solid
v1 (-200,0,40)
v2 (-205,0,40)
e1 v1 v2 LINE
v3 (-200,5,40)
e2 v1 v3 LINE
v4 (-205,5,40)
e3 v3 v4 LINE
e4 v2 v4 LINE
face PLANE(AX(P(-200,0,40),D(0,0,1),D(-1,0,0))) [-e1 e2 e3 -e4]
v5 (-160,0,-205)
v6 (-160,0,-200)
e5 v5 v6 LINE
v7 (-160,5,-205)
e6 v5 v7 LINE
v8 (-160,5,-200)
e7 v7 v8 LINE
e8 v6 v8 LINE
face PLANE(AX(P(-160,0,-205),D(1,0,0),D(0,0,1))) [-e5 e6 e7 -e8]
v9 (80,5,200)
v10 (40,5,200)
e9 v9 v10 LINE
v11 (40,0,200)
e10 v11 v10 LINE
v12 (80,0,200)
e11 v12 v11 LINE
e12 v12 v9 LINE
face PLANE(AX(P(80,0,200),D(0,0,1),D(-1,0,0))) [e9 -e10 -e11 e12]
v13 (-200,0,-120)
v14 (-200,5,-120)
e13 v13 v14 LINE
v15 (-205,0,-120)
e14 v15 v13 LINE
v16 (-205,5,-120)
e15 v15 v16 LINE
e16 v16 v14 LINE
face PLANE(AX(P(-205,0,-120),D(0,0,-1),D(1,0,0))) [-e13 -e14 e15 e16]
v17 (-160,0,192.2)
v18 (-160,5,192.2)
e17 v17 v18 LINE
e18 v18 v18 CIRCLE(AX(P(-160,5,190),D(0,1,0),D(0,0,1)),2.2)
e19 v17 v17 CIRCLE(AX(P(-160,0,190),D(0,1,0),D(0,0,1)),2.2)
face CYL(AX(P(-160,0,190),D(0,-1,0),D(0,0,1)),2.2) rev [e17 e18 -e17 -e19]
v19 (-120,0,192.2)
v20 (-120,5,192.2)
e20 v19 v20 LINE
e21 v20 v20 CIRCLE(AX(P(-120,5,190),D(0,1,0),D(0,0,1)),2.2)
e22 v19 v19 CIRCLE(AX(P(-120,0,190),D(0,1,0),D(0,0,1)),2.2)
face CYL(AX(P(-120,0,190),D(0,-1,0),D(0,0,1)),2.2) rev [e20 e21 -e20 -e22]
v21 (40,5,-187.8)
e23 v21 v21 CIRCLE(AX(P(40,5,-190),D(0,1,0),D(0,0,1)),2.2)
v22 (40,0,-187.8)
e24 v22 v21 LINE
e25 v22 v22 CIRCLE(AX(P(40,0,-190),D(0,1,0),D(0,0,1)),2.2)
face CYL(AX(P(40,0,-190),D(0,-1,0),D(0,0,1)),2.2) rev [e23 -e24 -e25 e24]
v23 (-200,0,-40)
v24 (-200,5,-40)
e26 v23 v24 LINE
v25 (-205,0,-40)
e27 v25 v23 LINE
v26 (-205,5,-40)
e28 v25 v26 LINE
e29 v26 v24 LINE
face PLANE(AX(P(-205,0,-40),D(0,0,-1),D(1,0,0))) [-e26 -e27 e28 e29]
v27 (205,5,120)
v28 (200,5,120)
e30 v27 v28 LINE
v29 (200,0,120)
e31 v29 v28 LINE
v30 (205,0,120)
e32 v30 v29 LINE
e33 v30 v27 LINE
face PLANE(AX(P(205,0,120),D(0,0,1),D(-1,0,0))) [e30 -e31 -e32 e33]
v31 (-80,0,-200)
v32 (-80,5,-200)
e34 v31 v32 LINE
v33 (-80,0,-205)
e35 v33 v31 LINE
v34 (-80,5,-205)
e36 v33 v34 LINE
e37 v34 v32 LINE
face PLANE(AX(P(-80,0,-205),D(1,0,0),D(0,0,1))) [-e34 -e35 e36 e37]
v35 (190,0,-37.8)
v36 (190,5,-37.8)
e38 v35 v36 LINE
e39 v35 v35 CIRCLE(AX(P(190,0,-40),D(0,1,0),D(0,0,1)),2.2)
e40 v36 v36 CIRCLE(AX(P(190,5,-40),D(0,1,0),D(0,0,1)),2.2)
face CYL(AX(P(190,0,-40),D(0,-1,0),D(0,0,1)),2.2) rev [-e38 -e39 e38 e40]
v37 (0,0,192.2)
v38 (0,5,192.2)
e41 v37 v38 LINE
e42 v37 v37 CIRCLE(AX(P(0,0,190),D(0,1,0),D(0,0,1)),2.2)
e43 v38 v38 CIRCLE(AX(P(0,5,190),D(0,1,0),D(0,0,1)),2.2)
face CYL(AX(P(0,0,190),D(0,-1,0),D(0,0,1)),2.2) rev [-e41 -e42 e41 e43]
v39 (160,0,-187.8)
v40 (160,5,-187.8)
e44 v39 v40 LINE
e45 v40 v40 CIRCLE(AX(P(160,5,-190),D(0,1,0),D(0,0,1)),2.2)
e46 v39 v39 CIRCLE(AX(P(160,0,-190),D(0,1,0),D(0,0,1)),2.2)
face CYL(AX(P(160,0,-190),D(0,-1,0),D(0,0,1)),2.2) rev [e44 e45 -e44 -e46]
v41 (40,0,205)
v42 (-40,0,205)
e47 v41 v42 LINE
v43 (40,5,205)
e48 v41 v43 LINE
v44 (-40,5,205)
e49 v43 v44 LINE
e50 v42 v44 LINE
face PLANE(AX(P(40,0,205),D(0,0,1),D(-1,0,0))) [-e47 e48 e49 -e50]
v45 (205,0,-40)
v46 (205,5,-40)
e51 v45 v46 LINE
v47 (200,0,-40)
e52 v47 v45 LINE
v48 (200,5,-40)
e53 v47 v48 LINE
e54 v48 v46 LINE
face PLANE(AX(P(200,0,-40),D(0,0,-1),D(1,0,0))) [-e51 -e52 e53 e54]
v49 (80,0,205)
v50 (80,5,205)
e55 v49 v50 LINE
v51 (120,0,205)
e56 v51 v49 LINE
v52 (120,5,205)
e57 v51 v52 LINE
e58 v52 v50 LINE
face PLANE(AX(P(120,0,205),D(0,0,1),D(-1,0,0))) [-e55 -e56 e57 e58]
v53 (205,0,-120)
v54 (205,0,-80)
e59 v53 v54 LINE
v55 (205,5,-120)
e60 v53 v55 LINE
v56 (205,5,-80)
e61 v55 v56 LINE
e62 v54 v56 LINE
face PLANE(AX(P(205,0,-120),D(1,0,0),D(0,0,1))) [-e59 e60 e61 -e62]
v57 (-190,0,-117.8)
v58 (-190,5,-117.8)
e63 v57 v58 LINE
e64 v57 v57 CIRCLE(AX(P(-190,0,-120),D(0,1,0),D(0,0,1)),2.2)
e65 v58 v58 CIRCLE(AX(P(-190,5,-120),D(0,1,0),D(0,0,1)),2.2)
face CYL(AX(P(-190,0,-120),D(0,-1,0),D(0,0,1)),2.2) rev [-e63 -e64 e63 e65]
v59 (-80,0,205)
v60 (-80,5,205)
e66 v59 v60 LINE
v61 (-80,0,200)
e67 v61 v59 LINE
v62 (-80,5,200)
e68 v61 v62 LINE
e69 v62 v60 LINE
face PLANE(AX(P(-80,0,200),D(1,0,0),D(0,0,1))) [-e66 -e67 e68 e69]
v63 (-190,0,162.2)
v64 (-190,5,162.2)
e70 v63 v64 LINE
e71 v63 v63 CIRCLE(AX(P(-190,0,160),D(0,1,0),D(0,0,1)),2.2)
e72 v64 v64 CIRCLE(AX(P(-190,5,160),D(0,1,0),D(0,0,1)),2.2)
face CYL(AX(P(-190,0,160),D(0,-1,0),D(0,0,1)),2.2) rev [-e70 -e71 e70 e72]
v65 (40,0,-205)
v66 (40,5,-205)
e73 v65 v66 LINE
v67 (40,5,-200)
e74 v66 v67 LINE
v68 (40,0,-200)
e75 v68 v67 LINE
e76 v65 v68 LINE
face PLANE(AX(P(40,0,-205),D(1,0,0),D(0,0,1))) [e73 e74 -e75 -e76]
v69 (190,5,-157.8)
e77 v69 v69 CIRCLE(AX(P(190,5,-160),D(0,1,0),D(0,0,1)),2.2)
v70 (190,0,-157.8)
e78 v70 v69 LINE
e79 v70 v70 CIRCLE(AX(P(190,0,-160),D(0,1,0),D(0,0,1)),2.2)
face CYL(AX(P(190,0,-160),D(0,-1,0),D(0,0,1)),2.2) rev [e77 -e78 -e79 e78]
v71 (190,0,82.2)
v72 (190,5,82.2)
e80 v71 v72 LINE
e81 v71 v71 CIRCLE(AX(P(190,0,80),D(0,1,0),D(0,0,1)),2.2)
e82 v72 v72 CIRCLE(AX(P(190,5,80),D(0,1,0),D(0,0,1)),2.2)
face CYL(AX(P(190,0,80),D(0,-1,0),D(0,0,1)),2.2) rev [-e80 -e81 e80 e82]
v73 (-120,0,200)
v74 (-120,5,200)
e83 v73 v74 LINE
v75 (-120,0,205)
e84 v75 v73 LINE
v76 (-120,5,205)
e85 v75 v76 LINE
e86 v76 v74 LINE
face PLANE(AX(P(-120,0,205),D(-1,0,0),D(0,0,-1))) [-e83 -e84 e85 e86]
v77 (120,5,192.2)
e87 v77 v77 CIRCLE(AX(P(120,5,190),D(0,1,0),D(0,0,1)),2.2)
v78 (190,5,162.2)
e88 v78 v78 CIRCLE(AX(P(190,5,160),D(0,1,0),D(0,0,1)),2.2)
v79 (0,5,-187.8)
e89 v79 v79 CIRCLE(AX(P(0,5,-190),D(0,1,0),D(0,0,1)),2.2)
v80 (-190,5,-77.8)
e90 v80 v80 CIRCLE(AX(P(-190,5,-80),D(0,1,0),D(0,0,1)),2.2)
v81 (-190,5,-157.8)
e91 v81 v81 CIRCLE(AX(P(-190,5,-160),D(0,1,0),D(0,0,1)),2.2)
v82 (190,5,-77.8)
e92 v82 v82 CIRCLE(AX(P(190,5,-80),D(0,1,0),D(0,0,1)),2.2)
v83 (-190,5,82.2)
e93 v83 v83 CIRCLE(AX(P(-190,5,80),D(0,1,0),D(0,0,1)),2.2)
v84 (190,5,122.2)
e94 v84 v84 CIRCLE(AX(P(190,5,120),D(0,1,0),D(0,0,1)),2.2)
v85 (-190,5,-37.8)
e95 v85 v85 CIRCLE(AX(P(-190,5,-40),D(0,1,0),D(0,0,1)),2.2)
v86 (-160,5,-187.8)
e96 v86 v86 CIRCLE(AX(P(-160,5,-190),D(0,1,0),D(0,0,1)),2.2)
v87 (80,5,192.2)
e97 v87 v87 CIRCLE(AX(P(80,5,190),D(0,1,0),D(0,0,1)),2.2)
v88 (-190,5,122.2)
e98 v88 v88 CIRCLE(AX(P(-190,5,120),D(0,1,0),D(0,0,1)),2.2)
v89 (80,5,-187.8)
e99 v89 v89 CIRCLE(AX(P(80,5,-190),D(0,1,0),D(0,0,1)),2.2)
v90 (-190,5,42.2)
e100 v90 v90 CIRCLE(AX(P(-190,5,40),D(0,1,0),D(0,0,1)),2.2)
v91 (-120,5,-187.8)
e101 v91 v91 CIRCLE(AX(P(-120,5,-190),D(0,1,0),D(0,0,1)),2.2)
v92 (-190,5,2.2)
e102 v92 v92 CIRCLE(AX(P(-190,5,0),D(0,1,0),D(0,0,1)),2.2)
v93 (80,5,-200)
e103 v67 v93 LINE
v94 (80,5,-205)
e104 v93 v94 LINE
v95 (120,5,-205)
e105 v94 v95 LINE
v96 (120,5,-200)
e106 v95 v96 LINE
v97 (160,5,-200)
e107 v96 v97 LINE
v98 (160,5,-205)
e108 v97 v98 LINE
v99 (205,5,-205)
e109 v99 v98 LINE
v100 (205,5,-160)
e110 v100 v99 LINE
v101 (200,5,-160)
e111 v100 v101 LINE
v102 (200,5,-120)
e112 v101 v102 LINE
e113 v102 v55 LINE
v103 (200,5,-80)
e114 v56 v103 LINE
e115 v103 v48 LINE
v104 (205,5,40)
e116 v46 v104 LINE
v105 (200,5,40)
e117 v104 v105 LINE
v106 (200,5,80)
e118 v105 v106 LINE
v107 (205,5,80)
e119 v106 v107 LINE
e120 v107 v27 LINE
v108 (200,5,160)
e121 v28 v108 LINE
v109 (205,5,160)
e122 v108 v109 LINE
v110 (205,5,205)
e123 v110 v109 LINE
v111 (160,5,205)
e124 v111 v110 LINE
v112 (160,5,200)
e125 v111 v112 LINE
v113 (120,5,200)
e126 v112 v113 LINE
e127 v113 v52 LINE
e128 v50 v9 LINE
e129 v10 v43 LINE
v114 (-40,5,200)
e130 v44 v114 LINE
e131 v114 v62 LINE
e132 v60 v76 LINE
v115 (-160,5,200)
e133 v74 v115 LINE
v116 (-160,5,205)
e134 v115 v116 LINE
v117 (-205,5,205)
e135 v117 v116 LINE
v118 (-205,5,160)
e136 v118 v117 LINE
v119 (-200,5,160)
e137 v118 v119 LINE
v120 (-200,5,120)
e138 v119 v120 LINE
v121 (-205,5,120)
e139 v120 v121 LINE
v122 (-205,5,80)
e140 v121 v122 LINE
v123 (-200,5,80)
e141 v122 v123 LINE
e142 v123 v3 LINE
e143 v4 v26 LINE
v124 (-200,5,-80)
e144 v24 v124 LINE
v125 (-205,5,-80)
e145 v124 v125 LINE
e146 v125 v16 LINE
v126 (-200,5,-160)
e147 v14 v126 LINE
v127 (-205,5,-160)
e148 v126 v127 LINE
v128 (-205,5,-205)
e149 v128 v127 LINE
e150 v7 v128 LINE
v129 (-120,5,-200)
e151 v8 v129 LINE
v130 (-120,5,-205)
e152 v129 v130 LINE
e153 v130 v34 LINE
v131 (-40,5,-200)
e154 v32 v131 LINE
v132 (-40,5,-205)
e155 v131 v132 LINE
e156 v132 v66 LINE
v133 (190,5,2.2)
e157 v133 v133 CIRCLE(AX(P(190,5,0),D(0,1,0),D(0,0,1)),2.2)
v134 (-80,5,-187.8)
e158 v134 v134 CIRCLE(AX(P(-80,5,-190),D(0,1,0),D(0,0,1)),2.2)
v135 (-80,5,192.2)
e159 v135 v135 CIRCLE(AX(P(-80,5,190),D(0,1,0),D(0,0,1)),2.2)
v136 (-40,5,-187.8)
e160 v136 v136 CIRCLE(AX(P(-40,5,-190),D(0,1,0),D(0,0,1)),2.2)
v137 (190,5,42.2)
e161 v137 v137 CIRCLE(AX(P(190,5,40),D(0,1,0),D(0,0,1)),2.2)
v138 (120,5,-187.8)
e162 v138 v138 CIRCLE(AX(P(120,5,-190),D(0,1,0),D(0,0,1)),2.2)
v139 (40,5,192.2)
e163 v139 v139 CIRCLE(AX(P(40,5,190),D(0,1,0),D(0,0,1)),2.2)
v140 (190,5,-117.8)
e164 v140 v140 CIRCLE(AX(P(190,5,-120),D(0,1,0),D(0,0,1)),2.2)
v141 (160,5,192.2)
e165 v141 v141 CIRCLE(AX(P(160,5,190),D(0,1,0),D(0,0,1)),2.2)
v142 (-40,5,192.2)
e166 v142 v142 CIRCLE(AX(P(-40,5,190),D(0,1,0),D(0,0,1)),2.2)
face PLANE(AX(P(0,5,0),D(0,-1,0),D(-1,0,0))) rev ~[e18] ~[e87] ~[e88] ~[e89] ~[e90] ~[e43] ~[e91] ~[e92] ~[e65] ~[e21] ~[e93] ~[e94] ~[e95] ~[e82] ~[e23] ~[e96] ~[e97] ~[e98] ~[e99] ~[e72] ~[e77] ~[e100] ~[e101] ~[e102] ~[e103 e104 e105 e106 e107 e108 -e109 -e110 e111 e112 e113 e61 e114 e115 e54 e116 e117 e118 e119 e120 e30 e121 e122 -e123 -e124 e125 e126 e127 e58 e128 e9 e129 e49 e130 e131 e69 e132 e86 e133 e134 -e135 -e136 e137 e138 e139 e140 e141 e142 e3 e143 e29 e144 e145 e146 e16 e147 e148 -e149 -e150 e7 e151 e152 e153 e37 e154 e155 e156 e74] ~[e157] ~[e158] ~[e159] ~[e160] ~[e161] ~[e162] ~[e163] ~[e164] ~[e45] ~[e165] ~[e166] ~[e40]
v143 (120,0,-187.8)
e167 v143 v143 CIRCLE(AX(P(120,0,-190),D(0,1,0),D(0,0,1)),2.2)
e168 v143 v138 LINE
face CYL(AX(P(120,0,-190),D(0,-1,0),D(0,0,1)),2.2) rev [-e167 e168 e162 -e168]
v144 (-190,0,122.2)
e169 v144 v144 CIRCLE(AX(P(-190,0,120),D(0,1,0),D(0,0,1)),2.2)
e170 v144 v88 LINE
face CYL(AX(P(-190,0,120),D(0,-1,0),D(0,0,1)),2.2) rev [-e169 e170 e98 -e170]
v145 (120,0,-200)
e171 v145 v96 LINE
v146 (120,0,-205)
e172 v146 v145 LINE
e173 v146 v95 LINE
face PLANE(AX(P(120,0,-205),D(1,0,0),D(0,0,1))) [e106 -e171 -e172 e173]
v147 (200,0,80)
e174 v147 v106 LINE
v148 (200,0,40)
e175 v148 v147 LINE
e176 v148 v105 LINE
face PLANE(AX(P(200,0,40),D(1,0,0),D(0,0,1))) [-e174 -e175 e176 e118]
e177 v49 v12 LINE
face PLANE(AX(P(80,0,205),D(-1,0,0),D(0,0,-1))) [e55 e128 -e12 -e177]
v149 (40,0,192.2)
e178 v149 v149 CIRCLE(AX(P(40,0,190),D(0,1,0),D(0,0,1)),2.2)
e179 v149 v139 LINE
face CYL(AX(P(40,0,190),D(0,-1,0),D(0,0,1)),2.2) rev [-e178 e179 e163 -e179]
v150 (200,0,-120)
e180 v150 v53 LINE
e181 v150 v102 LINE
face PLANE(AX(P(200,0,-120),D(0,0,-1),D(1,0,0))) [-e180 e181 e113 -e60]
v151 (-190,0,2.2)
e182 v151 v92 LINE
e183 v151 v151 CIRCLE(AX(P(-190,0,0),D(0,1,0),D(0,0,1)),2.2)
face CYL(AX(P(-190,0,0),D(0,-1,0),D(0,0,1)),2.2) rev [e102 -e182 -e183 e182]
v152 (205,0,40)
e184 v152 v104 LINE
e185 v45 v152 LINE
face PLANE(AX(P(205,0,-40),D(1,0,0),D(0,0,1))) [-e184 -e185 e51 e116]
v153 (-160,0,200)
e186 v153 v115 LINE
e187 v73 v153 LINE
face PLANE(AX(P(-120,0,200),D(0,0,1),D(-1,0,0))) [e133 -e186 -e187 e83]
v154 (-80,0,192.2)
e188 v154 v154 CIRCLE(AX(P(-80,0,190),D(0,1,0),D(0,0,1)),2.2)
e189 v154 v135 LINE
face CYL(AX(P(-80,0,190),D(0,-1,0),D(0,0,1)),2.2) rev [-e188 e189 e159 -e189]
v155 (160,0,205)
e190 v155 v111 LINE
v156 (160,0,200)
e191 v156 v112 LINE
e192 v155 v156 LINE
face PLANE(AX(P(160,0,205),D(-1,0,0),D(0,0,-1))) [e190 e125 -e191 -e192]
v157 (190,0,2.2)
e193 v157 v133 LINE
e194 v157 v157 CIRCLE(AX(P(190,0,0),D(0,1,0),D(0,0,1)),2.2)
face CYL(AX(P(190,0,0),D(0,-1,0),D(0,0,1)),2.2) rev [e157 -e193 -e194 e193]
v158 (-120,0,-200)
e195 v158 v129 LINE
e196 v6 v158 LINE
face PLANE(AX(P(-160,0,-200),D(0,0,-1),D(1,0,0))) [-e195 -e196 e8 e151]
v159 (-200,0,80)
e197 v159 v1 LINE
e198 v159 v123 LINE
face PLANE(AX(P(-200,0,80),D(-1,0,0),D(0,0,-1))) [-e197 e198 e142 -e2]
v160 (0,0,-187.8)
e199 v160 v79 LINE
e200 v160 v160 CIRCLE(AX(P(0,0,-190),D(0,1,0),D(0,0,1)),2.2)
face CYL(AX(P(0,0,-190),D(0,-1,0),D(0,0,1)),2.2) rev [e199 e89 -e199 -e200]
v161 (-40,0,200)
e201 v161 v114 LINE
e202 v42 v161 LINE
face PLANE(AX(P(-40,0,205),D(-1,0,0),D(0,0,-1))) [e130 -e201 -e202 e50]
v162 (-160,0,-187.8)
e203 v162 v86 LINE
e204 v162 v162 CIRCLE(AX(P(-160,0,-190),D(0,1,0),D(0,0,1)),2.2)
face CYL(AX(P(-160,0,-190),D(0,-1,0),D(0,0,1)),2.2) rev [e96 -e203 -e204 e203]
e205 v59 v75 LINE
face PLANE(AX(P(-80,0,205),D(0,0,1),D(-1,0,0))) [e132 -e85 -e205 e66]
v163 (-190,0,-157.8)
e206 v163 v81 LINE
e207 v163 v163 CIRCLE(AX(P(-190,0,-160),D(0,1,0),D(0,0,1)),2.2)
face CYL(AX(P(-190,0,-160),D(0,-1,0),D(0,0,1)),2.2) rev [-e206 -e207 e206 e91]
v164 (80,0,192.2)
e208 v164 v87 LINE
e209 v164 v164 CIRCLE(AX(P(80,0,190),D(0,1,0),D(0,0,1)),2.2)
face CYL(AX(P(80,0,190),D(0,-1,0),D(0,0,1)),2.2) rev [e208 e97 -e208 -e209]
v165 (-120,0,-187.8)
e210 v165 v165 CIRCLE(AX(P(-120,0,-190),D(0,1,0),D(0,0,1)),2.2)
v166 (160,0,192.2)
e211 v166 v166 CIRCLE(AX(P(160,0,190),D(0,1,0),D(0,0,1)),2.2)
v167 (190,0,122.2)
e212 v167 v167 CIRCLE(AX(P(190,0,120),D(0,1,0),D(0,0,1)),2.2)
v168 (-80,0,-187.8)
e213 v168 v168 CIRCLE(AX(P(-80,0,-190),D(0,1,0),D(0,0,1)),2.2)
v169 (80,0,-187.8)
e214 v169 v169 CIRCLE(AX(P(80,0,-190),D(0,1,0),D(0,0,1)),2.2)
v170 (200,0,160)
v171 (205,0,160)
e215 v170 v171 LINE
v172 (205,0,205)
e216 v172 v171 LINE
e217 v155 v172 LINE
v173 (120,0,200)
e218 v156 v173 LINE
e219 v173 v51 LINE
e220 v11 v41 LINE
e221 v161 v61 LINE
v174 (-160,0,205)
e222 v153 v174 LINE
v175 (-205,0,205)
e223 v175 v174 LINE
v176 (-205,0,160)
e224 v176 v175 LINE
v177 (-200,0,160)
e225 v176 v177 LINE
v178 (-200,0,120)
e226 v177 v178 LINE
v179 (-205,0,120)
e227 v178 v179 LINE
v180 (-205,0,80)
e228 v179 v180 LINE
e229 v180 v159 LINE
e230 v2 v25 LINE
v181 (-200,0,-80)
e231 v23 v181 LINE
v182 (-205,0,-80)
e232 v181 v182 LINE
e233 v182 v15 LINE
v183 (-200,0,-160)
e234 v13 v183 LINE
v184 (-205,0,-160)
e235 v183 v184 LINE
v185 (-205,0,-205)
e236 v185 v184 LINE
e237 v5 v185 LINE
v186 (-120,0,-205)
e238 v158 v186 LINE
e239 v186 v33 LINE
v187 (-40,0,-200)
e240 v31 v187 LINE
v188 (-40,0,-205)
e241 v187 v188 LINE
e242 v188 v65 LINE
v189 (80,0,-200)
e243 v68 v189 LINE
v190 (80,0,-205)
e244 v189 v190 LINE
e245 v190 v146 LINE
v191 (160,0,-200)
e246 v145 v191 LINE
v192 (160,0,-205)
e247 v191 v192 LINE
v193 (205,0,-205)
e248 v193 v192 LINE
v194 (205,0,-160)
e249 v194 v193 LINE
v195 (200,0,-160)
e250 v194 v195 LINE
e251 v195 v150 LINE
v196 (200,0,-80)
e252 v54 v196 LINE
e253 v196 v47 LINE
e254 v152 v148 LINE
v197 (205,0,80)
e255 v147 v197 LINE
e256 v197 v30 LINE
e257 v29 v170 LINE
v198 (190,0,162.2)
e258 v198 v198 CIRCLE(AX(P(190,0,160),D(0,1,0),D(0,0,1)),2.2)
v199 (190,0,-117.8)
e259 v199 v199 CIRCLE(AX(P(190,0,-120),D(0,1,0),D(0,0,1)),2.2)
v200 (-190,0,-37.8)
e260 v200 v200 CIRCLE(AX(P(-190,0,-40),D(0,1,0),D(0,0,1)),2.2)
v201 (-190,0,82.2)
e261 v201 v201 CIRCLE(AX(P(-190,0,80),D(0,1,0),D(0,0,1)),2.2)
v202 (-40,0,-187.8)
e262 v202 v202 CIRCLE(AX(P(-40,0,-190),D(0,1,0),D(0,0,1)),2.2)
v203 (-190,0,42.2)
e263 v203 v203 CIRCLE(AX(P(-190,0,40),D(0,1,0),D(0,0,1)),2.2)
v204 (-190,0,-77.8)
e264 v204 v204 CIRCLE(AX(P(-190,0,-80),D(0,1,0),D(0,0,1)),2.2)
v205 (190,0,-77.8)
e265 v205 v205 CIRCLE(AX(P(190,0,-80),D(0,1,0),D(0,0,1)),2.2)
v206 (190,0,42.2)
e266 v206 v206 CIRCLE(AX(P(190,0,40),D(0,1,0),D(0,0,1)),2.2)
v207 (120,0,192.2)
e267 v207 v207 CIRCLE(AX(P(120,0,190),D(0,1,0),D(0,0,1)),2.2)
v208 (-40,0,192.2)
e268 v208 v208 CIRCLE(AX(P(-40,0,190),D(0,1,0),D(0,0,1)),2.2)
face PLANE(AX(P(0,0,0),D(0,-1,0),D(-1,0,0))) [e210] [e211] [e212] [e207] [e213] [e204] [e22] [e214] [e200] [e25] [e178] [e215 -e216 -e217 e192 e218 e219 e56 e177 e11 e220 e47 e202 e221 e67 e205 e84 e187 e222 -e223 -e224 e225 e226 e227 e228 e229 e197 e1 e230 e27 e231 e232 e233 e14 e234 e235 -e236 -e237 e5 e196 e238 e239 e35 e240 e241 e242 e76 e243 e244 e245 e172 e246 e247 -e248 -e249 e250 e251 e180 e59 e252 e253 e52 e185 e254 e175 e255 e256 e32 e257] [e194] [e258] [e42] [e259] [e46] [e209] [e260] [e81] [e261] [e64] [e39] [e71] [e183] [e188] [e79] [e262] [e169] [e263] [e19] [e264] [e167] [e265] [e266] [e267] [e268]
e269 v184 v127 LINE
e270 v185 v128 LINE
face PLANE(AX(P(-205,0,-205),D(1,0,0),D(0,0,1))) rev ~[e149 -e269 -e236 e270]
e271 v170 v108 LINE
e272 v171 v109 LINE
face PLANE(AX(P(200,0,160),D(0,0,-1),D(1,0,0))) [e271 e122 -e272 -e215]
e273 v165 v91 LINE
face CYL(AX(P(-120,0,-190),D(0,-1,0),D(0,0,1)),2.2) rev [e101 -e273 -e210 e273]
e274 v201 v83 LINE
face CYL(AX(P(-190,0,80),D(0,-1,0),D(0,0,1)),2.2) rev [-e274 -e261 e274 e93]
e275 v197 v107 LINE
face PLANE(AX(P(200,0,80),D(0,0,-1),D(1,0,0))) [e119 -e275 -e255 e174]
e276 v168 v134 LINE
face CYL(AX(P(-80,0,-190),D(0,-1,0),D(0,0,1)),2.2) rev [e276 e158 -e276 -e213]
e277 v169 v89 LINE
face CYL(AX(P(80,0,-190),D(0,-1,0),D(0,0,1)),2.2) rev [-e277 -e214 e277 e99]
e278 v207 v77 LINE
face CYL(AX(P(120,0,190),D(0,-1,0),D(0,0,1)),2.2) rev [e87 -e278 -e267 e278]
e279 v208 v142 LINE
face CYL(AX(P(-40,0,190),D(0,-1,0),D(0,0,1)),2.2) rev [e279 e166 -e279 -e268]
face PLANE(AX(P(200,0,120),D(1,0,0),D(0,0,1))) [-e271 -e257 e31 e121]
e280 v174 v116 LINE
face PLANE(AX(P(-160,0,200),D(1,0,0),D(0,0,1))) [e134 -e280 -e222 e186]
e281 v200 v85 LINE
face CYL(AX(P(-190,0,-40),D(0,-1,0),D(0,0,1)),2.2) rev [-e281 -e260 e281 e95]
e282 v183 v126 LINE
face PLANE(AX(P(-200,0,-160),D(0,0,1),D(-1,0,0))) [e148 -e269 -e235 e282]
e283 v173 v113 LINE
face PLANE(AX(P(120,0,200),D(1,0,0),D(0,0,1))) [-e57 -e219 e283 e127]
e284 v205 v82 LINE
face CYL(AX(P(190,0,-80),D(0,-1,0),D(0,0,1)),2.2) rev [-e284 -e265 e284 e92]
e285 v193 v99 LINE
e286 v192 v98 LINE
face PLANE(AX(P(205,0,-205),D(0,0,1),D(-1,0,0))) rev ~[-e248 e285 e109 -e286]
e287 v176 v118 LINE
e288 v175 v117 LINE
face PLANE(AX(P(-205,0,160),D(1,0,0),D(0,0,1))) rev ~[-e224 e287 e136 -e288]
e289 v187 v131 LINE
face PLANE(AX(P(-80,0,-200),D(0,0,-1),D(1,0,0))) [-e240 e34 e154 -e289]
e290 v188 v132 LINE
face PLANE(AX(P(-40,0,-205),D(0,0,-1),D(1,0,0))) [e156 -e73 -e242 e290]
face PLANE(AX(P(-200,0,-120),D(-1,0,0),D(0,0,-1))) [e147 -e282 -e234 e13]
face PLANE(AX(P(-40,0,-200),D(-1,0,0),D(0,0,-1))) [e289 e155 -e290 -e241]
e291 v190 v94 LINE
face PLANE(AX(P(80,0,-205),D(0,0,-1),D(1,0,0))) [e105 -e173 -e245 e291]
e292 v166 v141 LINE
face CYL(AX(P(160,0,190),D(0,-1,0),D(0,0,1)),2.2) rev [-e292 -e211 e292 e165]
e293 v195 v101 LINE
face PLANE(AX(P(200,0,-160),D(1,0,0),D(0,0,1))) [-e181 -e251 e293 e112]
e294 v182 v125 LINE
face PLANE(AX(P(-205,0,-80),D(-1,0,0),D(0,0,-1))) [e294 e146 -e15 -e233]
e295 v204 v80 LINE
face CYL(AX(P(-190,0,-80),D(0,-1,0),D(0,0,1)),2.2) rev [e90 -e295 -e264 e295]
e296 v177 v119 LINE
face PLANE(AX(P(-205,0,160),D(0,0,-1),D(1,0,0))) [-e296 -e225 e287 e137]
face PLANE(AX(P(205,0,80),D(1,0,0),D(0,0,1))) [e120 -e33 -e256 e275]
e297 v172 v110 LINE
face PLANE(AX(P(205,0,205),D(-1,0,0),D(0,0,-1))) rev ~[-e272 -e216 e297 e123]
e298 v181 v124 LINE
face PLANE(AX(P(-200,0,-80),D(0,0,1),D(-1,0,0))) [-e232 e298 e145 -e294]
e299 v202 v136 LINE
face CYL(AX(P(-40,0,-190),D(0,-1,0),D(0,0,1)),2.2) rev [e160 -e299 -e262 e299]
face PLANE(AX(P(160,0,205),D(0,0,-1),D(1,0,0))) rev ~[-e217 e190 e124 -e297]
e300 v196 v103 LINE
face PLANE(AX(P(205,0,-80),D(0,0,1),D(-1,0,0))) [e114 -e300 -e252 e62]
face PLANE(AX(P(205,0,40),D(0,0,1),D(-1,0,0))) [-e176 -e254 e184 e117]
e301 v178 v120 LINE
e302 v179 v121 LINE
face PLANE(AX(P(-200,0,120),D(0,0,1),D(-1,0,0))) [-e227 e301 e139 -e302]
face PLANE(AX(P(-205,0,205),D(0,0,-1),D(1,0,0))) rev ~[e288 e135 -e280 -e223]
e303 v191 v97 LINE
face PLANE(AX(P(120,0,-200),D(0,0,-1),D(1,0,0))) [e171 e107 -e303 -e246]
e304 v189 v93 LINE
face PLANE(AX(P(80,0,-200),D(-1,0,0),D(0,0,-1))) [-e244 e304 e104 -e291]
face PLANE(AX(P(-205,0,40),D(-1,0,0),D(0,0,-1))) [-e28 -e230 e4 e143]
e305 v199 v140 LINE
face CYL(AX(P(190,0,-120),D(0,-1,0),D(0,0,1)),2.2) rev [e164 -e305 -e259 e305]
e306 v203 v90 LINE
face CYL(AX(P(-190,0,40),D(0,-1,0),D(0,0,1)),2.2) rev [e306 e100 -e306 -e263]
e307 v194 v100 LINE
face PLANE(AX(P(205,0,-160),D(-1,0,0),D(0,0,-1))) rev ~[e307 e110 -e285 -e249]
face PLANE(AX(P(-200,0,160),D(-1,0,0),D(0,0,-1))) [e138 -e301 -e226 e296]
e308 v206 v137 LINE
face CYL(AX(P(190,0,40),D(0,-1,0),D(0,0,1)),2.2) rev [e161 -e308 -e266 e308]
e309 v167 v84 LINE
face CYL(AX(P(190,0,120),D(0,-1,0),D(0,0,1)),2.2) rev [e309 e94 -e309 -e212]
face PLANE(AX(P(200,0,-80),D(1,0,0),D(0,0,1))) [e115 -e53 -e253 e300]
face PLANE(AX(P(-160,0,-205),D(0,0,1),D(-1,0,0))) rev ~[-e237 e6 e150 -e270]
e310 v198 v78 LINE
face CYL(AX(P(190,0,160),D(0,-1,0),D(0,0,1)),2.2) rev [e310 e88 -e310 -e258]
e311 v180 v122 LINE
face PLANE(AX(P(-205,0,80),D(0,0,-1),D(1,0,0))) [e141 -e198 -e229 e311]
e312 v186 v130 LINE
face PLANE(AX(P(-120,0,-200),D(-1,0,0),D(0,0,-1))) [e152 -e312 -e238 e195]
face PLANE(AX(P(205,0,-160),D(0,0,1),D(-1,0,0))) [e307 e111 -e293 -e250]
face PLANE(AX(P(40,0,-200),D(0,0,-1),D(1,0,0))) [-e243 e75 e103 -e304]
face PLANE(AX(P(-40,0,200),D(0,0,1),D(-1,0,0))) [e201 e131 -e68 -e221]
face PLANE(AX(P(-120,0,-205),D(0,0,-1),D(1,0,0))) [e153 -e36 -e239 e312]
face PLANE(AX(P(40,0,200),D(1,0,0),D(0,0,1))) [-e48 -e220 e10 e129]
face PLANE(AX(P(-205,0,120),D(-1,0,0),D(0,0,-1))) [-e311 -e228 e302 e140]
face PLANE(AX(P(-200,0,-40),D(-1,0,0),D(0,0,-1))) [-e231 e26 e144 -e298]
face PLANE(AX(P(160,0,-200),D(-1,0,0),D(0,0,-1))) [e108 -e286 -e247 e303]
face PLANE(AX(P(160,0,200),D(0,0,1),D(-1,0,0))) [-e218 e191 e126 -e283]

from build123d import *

# Parameters (mm, degrees)
SKETCH_1_R      = 2.2
EXTRUDE_1_DEPTH = 5


with BuildPart() as part:
    # 草图1 → 凸台-拉伸1 (new body)
    with BuildSketch(Plane(origin=(0, 0, 0), x_dir=(1, 0, 0), z_dir=(0, 1, 0))):
        Polygon((40, 200), (80, 200), (80, 205), (120, 205), (120, 200), (160, 200), (160, 205), (200, 205), (205, 205), (205, 200), (205, 160), (200, 160), (200, 120), (205, 120), (205, 80), (200, 80), (200, 40), (205, 40), (205, -40), (200, -40), (200, -80), (205, -80), (205, -120), (200, -120), (200, -160), (205, -160), (205, -200), (205, -205), (200, -205), (160, -205), (160, -200), (120, -200), (120, -205), (80, -205), (80, -200), (40, -200), (40, -205), (-40, -205), (-40, -200), (-80, -200), (-80, -205), (-120, -205), (-120, -200), (-160, -200), (-160, -205), (-200, -205), (-205, -205), (-205, -200), (-205, -160), (-200, -160), (-200, -120), (-205, -120), (-205, -80), (-200, -80), (-200, -40), (-205, -40), (-205, 40), (-200, 40), (-200, 80), (-205, 80), (-205, 120), (-200, 120), (-200, 160), (-205, 160), (-205, 200), (-205, 205), (-200, 205), (-160, 205), (-160, 200), (-120, 200), (-120, 205), (-80, 205), (-80, 200), (-40, 200), (-40, 205), (40, 205), align=None)
        with Locations(Location((-190, 0, 0), (0, 0, 270))):
            Circle(SKETCH_1_R, mode=Mode.SUBTRACT)
        with Locations(Location((-190, 40, 0), (0, 0, 270))):
            Circle(SKETCH_1_R, mode=Mode.SUBTRACT)
        with Locations(Location((-190, 80, 0), (0, 0, 270))):
            Circle(SKETCH_1_R, mode=Mode.SUBTRACT)
        with Locations(Location((-190, 120, 0), (0, 0, 270))):
            Circle(SKETCH_1_R, mode=Mode.SUBTRACT)
        with Locations(Location((-190, 160, 0), (0, 0, 270))):
            Circle(SKETCH_1_R, mode=Mode.SUBTRACT)
        with Locations(Location((-190, -160, 0), (0, 0, 270))):
            Circle(SKETCH_1_R, mode=Mode.SUBTRACT)
        with Locations(Location((-190, -120, 0), (0, 0, 270))):
            Circle(SKETCH_1_R, mode=Mode.SUBTRACT)
        with Locations(Location((-190, -80, 0), (0, 0, 270))):
            Circle(SKETCH_1_R, mode=Mode.SUBTRACT)
        with Locations(Location((-190, -40, 0), (0, 0, 270))):
            Circle(SKETCH_1_R, mode=Mode.SUBTRACT)
        with Locations(Location((0, 190, 0), (0, 0, 270))):
            Circle(SKETCH_1_R, mode=Mode.SUBTRACT)
        with Locations(Location((40, 190, 0), (0, 0, 270))):
            Circle(SKETCH_1_R, mode=Mode.SUBTRACT)
        with Locations(Location((80, 190, 0), (0, 0, 270))):
            Circle(SKETCH_1_R, mode=Mode.SUBTRACT)
        with Locations(Location((120, 190, 0), (0, 0, 270))):
            Circle(SKETCH_1_R, mode=Mode.SUBTRACT)
        with Locations(Location((160, 190, 0), (0, 0, 270))):
            Circle(SKETCH_1_R, mode=Mode.SUBTRACT)
        with Locations(Location((-160, 190, 0), (0, 0, 270))):
            Circle(SKETCH_1_R, mode=Mode.SUBTRACT)
        with Locations(Location((-120, 190, 0), (0, 0, 270))):
            Circle(SKETCH_1_R, mode=Mode.SUBTRACT)
        with Locations(Location((-80, 190, 0), (0, 0, 270))):
            Circle(SKETCH_1_R, mode=Mode.SUBTRACT)
        with Locations(Location((-40, 190, 0), (0, 0, 270))):
            Circle(SKETCH_1_R, mode=Mode.SUBTRACT)
        with Locations(Location((190, 0, 0), (0, 0, 270))):
            Circle(SKETCH_1_R, mode=Mode.SUBTRACT)
        with Locations(Location((190, -40, 0), (0, 0, 270))):
            Circle(SKETCH_1_R, mode=Mode.SUBTRACT)
        with Locations(Location((190, -80, 0), (0, 0, 270))):
            Circle(SKETCH_1_R, mode=Mode.SUBTRACT)
        with Locations(Location((190, -120, 0), (0, 0, 270))):
            Circle(SKETCH_1_R, mode=Mode.SUBTRACT)
        with Locations(Location((190, -160, 0), (0, 0, 270))):
            Circle(SKETCH_1_R, mode=Mode.SUBTRACT)
        with Locations(Location((190, 160, 0), (0, 0, 270))):
            Circle(SKETCH_1_R, mode=Mode.SUBTRACT)
        with Locations(Location((190, 120, 0), (0, 0, 270))):
            Circle(SKETCH_1_R, mode=Mode.SUBTRACT)
        with Locations(Location((190, 80, 0), (0, 0, 270))):
            Circle(SKETCH_1_R, mode=Mode.SUBTRACT)
        with Locations(Location((190, 40, 0), (0, 0, 270))):
            Circle(SKETCH_1_R, mode=Mode.SUBTRACT)
        with Locations(Location((0, -190, 0), (0, 0, 270))):
            Circle(SKETCH_1_R, mode=Mode.SUBTRACT)
        with Locations(Location((-40, -190, 0), (0, 0, 270))):
            Circle(SKETCH_1_R, mode=Mode.SUBTRACT)
        with Locations(Location((-80, -190, 0), (0, 0, 270))):
            Circle(SKETCH_1_R, mode=Mode.SUBTRACT)
        with Locations(Location((-120, -190, 0), (0, 0, 270))):
            Circle(SKETCH_1_R, mode=Mode.SUBTRACT)
        with Locations(Location((-160, -190, 0), (0, 0, 270))):
            Circle(SKETCH_1_R, mode=Mode.SUBTRACT)
        with Locations(Location((160, -190, 0), (0, 0, 270))):
            Circle(SKETCH_1_R, mode=Mode.SUBTRACT)
        with Locations(Location((120, -190, 0), (0, 0, 270))):
            Circle(SKETCH_1_R, mode=Mode.SUBTRACT)
        with Locations(Location((80, -190, 0), (0, 0, 270))):
            Circle(SKETCH_1_R, mode=Mode.SUBTRACT)
        with Locations(Location((40, -190, 0), (0, 0, 270))):
            Circle(SKETCH_1_R, mode=Mode.SUBTRACT)
    extrude(amount=EXTRUDE_1_DEPTH)


solid = part.part
